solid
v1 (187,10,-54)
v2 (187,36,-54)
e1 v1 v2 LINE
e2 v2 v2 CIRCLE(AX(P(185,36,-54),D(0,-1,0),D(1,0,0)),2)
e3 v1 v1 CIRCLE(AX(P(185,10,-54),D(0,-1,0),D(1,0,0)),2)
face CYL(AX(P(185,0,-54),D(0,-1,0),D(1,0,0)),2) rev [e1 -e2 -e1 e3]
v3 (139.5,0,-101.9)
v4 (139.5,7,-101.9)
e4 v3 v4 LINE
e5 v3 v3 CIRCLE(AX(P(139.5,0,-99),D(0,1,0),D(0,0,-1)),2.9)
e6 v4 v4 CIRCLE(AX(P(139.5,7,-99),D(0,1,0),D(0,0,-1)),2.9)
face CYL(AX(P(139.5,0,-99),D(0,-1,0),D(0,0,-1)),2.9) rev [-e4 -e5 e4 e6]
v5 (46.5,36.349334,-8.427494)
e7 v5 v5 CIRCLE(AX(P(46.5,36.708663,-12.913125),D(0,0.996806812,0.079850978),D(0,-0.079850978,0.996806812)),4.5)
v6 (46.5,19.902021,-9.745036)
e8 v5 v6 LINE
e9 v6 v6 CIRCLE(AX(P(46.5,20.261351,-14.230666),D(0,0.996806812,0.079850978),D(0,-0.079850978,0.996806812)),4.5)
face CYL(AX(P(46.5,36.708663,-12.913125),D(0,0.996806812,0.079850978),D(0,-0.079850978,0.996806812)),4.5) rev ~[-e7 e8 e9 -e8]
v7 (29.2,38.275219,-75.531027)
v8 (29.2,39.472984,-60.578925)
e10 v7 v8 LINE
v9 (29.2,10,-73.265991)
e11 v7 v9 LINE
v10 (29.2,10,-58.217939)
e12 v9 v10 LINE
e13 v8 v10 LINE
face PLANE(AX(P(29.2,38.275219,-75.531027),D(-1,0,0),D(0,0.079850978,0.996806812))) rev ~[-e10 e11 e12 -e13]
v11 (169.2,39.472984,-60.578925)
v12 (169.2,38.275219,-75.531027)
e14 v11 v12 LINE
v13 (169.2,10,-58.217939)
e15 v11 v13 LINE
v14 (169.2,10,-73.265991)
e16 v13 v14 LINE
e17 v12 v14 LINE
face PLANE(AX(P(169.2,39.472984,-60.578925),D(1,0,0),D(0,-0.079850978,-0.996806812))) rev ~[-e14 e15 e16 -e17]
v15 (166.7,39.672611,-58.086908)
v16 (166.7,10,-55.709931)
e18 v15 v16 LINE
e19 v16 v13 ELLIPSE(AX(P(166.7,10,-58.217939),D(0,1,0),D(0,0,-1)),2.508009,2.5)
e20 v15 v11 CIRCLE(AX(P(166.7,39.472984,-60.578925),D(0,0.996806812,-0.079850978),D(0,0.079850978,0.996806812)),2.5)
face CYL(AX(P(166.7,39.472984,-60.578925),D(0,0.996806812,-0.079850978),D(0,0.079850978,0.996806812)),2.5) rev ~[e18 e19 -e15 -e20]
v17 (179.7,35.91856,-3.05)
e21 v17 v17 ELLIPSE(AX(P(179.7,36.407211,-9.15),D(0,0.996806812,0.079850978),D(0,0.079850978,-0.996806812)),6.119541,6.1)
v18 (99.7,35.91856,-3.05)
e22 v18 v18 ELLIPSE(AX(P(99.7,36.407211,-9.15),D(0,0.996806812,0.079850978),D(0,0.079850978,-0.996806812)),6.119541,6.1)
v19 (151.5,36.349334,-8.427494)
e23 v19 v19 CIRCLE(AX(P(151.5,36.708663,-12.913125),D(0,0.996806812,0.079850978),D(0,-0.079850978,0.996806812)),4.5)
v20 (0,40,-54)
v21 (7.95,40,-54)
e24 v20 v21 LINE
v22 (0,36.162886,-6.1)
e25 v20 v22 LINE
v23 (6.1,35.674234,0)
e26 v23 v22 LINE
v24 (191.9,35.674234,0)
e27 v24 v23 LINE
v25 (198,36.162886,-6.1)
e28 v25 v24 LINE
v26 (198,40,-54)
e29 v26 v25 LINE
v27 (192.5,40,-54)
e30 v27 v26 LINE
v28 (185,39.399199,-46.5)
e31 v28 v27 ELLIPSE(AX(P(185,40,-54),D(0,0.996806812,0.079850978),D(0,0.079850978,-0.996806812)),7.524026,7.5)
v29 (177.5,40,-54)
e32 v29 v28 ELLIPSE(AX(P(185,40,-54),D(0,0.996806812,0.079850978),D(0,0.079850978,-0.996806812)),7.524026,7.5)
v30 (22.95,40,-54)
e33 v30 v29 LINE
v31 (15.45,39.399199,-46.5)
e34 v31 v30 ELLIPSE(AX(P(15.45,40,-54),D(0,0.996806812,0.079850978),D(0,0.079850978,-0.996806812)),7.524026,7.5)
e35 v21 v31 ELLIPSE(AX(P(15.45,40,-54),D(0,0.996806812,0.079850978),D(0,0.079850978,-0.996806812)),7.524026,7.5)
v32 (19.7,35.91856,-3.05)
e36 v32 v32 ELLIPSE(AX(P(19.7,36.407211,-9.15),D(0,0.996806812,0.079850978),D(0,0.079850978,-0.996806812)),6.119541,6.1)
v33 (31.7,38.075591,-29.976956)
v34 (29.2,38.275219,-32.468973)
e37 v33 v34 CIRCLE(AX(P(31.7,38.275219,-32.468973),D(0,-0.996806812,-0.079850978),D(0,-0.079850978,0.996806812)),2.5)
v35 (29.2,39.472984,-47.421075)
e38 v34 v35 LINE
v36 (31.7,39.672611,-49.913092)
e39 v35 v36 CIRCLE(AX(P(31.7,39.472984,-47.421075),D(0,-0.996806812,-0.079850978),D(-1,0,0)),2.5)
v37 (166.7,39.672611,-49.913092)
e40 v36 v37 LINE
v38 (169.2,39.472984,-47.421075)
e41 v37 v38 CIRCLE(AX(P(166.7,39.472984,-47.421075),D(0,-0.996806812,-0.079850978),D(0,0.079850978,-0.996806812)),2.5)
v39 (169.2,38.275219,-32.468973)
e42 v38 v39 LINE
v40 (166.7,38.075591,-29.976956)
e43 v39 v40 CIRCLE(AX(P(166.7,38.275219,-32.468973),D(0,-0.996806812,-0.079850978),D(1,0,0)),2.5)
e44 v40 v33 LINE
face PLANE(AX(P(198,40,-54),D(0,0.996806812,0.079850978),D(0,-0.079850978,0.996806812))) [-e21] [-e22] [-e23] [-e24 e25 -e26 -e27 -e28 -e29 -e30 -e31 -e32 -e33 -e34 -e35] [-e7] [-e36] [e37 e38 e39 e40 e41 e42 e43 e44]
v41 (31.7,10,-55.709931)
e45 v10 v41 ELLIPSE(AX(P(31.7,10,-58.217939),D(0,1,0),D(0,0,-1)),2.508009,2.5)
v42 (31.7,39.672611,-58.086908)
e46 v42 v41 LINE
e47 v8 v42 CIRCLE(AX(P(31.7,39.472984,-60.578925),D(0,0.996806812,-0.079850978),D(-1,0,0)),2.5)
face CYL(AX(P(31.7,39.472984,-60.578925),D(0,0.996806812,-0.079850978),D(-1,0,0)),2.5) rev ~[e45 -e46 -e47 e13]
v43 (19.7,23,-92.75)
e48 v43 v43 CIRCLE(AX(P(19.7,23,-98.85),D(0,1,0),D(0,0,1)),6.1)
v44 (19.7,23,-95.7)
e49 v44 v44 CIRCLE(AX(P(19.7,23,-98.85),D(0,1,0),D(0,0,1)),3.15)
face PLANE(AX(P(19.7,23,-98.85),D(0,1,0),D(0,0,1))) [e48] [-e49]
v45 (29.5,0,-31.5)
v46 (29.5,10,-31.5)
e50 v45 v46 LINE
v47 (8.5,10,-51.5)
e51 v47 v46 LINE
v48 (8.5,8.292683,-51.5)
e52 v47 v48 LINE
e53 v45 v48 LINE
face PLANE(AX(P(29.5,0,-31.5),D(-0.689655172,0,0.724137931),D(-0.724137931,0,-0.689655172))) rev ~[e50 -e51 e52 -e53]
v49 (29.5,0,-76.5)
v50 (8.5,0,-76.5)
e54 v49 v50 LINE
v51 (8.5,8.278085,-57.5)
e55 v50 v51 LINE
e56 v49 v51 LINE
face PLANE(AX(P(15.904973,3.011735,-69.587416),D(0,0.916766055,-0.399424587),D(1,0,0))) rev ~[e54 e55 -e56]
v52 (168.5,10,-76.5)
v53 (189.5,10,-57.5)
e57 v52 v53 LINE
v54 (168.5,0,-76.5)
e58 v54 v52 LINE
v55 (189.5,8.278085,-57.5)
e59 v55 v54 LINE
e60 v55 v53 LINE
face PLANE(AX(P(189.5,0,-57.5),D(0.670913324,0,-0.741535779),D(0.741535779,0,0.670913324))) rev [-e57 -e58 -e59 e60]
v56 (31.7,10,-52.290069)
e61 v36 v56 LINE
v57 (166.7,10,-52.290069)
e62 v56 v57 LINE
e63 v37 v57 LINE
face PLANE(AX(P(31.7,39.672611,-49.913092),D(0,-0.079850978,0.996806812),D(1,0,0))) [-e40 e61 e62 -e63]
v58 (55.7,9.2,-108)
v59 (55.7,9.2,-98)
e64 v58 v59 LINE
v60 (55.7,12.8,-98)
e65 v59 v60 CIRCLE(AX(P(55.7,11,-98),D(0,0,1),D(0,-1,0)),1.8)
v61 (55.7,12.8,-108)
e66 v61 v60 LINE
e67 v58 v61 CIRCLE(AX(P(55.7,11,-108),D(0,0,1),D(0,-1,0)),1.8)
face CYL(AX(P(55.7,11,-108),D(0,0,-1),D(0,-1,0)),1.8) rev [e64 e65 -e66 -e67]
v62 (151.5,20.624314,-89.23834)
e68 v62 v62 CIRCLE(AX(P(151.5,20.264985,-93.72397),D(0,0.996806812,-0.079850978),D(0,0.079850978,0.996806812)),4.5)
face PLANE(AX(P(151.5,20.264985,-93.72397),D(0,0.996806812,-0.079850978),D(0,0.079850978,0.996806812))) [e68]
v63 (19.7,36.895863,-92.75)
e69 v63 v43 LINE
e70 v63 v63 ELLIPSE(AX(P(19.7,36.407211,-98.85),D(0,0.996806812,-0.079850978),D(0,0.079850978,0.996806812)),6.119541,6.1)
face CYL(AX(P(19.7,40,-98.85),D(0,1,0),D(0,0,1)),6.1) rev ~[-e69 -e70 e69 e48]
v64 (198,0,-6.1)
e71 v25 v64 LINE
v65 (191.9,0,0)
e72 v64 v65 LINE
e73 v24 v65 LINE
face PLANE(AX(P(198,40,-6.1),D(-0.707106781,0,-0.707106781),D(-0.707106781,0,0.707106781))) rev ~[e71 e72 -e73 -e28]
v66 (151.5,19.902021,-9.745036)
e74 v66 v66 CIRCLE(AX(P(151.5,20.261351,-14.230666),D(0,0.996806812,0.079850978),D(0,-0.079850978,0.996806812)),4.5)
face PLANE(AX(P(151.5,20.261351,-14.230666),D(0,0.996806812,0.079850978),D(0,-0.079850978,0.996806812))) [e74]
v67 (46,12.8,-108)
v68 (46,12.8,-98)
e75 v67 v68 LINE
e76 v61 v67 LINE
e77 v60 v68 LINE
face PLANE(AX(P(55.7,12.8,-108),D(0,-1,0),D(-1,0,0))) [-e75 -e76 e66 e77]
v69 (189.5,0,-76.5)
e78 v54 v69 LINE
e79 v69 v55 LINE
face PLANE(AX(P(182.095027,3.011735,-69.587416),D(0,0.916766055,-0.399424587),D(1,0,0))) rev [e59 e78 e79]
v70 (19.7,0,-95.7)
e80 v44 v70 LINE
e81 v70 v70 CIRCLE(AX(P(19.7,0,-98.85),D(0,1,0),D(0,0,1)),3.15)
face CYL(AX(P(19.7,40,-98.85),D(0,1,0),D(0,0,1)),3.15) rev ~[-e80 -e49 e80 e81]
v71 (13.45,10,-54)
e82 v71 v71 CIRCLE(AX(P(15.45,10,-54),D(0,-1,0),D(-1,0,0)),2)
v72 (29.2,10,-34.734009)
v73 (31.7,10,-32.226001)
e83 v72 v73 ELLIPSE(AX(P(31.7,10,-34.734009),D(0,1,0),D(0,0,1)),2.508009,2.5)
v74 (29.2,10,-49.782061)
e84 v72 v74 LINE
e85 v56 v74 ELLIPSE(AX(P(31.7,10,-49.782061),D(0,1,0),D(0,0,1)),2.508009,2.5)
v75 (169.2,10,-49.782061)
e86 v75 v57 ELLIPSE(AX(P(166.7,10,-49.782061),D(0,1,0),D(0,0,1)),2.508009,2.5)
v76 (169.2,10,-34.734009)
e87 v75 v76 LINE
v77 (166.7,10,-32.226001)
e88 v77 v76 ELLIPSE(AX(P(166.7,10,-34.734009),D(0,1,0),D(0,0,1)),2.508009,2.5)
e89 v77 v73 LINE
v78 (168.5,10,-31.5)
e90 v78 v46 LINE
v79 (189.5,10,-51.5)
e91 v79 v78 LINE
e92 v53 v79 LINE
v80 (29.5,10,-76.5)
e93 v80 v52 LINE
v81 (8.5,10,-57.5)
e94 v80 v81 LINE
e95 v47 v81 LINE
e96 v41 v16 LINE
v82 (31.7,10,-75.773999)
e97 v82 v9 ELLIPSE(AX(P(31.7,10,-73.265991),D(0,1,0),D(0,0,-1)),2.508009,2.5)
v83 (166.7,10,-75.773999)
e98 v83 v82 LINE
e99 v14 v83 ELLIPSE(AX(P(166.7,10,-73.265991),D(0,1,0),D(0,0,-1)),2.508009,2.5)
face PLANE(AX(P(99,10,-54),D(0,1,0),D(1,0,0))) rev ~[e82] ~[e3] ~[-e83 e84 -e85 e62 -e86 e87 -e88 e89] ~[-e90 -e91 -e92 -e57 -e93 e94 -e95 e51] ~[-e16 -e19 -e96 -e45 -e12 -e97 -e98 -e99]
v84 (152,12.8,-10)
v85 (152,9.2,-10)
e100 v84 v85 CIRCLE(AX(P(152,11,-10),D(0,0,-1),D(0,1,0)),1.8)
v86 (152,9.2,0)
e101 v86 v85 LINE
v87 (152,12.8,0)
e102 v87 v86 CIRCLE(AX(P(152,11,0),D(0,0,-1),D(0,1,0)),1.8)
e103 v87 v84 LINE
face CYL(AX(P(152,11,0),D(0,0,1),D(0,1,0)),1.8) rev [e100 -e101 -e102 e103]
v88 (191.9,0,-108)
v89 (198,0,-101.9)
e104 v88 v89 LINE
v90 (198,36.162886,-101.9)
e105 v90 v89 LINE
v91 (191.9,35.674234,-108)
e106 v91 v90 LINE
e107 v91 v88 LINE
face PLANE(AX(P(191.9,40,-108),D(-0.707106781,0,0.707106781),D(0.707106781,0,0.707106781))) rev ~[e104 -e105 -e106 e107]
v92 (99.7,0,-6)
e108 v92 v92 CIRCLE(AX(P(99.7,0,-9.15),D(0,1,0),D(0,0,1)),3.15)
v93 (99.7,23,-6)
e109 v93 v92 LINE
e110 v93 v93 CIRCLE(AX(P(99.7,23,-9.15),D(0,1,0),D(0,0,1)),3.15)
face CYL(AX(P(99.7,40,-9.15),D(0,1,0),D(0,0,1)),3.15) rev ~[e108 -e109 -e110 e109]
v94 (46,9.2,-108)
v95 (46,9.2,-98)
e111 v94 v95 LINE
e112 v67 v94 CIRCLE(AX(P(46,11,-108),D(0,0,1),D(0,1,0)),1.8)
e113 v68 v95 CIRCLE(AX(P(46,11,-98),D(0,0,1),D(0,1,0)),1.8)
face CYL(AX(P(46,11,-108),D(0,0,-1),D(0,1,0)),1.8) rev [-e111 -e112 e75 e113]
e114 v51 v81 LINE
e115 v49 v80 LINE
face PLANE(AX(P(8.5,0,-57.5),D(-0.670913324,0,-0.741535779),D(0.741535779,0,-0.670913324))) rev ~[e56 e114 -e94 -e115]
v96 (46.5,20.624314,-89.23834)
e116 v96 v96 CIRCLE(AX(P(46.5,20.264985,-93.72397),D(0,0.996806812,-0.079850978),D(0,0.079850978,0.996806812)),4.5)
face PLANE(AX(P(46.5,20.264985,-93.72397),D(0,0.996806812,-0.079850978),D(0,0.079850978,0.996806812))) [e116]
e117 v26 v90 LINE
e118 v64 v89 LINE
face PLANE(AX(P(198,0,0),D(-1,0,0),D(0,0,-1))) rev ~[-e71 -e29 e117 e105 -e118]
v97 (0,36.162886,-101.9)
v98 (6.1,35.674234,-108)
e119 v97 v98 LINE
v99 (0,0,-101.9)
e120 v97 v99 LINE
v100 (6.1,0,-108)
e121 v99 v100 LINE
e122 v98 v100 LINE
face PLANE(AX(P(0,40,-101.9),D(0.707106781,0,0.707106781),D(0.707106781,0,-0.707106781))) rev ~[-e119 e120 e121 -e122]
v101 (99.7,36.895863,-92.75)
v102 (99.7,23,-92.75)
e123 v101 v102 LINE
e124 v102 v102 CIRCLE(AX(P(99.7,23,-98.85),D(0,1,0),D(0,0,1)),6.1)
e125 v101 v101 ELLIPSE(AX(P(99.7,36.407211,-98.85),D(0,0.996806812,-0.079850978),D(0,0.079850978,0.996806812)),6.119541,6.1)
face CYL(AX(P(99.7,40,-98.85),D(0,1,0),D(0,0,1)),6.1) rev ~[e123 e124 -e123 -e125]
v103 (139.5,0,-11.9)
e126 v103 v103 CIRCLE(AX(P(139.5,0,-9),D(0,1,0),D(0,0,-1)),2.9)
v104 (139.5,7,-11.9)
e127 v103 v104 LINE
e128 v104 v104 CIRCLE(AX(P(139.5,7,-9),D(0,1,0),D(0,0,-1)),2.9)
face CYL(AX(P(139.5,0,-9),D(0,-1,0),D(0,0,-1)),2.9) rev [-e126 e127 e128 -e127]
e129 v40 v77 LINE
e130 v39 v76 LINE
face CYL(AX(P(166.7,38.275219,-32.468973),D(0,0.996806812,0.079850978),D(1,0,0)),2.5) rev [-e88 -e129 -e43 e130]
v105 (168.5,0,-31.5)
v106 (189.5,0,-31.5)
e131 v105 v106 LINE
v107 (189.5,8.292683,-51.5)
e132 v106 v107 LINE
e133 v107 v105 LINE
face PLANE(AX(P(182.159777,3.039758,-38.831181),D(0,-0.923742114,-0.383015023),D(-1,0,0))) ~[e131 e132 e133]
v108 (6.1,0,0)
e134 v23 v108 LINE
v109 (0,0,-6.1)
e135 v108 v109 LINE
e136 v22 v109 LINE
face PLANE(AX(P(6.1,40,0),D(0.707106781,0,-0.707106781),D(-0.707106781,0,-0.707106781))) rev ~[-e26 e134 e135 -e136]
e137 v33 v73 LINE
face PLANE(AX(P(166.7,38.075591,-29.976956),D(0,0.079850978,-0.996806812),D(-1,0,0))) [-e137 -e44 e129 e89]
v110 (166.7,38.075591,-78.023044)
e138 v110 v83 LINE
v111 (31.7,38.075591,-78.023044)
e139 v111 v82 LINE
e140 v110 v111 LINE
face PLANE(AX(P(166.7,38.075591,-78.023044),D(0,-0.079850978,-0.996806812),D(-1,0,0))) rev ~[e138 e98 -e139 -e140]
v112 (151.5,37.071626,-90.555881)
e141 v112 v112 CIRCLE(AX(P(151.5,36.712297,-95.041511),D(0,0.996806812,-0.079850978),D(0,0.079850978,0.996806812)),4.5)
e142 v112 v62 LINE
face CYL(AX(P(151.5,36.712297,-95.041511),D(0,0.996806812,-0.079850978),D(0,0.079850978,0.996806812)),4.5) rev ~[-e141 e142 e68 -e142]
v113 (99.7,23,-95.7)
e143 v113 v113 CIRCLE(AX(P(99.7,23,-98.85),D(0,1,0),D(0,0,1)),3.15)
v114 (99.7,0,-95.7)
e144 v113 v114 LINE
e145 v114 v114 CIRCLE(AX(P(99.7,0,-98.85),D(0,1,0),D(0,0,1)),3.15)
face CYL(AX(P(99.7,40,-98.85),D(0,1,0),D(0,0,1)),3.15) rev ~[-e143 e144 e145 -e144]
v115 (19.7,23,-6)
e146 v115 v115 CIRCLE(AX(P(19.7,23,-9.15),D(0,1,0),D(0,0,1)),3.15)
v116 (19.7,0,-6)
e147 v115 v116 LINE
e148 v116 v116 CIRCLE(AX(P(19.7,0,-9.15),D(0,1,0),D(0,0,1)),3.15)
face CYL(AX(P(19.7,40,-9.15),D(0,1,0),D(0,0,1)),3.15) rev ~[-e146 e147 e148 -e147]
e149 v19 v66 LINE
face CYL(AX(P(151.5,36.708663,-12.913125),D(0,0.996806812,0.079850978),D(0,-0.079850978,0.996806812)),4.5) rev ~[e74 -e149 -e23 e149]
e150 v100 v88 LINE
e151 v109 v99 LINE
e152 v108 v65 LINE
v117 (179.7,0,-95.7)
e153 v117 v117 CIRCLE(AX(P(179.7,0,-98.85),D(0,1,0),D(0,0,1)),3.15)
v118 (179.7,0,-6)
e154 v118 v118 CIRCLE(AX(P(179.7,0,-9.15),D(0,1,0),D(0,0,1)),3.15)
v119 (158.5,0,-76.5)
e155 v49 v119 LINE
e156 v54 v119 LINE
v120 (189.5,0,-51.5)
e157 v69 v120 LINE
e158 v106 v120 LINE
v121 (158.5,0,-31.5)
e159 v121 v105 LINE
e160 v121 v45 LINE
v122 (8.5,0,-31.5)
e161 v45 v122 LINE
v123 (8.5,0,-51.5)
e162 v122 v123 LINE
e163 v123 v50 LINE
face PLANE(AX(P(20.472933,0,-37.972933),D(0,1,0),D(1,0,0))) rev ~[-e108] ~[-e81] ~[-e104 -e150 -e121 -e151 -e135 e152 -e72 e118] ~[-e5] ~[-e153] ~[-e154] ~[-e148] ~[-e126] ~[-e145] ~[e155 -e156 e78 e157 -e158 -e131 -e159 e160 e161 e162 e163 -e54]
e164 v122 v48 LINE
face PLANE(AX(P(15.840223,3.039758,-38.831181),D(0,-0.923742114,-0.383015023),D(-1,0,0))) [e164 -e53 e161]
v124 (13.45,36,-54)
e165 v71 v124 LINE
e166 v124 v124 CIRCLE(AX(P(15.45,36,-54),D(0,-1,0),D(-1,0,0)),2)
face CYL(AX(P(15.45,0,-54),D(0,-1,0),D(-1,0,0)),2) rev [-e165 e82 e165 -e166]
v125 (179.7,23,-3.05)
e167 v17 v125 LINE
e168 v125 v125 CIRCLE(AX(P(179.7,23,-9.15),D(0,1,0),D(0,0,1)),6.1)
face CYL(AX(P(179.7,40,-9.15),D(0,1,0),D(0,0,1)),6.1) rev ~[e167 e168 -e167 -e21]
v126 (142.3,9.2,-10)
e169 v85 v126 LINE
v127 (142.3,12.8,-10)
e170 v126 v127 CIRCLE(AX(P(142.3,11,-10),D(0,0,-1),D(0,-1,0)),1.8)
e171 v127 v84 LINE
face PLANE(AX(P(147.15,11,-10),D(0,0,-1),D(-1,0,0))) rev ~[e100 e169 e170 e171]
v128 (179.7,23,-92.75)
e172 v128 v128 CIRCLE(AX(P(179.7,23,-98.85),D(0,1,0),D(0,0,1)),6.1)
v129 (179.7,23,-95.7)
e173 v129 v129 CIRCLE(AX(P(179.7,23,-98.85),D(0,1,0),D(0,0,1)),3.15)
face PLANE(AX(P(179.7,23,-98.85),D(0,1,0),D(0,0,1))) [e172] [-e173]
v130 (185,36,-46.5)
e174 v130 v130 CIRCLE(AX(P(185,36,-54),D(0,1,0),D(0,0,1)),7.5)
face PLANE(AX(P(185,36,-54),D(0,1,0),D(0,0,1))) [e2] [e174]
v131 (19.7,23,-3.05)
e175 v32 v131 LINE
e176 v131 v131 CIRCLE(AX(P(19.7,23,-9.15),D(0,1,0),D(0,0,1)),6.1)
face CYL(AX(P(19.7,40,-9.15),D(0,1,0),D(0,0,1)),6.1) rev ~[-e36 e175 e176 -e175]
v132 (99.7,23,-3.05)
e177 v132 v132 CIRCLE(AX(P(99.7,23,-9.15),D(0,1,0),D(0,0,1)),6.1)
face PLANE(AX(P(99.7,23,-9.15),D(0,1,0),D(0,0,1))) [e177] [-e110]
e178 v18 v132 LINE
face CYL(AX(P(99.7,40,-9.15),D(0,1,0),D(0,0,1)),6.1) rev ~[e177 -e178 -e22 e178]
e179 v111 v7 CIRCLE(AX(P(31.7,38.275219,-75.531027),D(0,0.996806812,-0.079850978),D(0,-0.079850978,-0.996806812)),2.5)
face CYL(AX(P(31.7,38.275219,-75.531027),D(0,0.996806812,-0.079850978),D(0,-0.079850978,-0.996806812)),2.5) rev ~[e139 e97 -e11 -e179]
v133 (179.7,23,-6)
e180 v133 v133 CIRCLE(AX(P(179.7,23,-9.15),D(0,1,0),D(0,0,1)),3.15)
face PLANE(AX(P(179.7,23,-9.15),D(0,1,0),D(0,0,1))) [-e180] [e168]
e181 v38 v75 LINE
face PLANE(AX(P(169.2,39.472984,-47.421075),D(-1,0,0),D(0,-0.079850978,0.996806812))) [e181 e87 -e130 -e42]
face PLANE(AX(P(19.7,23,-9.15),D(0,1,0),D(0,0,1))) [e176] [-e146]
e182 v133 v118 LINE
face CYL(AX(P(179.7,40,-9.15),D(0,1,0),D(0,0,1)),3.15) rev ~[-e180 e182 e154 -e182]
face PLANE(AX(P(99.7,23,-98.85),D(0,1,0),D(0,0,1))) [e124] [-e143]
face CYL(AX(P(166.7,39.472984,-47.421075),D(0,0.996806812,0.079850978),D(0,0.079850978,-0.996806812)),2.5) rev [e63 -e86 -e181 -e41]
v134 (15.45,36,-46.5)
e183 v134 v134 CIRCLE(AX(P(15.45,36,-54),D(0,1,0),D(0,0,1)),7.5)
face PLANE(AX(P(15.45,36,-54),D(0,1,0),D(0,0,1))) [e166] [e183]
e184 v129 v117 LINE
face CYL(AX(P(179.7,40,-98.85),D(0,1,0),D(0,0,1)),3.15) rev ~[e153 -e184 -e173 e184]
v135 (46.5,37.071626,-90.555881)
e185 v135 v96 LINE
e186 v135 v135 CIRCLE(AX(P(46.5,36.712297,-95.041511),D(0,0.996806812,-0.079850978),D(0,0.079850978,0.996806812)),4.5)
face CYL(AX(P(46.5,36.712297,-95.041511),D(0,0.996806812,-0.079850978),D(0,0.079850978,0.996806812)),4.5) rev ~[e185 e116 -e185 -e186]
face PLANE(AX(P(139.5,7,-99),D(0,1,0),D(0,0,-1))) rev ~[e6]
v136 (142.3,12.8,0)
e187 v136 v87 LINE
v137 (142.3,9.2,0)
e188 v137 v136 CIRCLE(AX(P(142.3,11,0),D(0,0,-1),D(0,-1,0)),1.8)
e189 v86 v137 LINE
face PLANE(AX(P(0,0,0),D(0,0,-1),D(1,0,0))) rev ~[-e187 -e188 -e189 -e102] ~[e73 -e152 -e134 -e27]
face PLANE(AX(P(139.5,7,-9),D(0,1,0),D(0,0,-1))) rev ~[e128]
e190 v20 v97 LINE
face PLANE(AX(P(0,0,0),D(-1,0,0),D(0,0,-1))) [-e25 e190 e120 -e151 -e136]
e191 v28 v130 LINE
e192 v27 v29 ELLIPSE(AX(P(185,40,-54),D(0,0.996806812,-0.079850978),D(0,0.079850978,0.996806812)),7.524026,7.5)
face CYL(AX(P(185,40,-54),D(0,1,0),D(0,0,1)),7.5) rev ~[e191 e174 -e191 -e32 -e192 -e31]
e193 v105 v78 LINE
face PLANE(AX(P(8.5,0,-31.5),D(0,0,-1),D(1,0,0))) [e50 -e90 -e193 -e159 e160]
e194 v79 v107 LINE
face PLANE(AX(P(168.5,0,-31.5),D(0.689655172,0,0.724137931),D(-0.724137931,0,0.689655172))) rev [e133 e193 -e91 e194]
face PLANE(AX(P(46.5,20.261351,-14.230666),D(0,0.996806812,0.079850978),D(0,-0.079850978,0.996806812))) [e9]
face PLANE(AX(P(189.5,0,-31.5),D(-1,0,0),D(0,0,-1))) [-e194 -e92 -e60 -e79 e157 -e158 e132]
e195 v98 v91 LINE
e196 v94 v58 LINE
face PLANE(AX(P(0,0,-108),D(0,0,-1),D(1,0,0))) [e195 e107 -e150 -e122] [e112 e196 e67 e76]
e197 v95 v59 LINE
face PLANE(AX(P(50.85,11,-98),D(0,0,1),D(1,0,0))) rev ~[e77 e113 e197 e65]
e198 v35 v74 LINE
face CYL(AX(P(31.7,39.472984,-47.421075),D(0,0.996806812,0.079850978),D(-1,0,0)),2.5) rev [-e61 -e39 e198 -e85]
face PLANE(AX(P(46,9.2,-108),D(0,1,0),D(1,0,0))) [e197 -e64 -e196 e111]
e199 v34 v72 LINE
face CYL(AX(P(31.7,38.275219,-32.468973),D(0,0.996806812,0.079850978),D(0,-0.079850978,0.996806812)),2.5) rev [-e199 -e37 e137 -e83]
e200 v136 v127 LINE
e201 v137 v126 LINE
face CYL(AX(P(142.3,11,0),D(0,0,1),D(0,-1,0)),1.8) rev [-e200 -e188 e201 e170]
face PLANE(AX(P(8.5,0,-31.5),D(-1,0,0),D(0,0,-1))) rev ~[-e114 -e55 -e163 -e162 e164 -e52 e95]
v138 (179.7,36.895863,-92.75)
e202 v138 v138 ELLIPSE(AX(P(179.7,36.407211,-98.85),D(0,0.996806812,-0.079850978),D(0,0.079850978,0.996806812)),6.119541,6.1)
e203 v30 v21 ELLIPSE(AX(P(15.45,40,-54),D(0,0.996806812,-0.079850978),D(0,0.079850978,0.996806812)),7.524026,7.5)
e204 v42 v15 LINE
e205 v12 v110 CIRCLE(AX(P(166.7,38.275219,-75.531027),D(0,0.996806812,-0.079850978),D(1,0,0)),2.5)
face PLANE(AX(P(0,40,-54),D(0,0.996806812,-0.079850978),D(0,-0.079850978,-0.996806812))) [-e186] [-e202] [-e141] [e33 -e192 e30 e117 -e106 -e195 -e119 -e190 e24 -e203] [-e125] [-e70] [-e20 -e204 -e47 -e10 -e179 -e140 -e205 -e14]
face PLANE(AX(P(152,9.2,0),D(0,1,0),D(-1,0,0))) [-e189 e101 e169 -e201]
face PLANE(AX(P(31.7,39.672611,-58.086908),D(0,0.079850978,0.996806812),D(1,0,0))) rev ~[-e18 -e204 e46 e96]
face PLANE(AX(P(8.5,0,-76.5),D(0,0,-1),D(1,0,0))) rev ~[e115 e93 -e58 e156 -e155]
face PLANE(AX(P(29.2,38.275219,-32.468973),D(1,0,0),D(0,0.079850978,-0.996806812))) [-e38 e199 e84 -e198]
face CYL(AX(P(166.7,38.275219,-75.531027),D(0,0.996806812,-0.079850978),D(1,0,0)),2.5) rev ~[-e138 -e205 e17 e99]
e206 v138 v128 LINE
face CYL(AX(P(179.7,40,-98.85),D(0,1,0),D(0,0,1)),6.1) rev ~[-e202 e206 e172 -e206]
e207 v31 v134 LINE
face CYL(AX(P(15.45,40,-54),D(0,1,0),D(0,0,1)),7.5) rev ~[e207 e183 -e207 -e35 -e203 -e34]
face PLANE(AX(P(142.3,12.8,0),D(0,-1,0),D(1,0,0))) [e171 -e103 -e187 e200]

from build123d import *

# Parameters (mm, degrees)
SKETCH1_W            = 198
SKETCH1_H            = 108
BOSS_EXTRUDE1_DEPTH  = 40
SKETCH4_W            = 181
SKETCH4_H            = 45
CUT_EXTRUDE2_DEPTH   = 10
CUT_EXTRUDE3_START   = -198
CUT_EXTRUDE3_DEPTH   = 198
BOSS_EXTRUDE11_DEPTH = 10
CUT_EXTRUDE12_DEPTH  = 198
CUT_EXTRUDE28_DEPTH  = 14.5
CUT_EXTRUDE29_DEPTH  = 14.5
CUT_EXTRUDE40_REACH  = 231.059
SKETCH12_R           = 3.15
CUT_EXTRUDE9_DEPTH   = 230.058944379
SKETCH13_R           = 4.5
CUT_EXTRUDE10_DEPTH  = 16.5
SKETCH14_R           = 4.5
CUT_EXTRUDE11_DEPTH  = 16.5
SKETCH41_R           = 2.9
CUT_EXTRUDE21_DEPTH  = 7
CUT_EXTRUDE22_DEPTH  = 10
CUT_EXTRUDE23_DEPTH  = 10
CUT_EXTRUDE35_DEPTH  = 55.4
CUT_EXTRUDE34_DEPTH  = 55.4
CUT_EXTRUDE36_DEPTH  = 55.4
SKETCH90_R           = 6.1
CUT_EXTRUDE38_DEPTH  = 17
SKETCH96_R           = 2
CUT_EXTRUDE39_DEPTH  = 230.058944379
SKETCH98_R           = 7.5
CUT_EXTRUDE41_DEPTH  = 4


with BuildPart() as part:
    # Sketch1 → Boss-Extrude1 (new body)
    with BuildSketch(Plane(origin=(0, 0, 0), x_dir=(1, 0, 0), z_dir=(0, 1, 0))):
        with Locations((99, 54)):
            Rectangle(SKETCH1_W, SKETCH1_H)
    extrude(amount=BOSS_EXTRUDE1_DEPTH)

    # Sketch4 → Cut-Extrude2 (cut)
    with BuildSketch(Plane(origin=(0, 0, 0), x_dir=(1, 0, 0), z_dir=(0, 1, 0))):
        with Locations((99, 54)):
            Rectangle(SKETCH4_W, SKETCH4_H)
    extrude(amount=CUT_EXTRUDE2_DEPTH, mode=Mode.SUBTRACT)

    # Sketch5 → Cut-Extrude3 (cut)
    with BuildSketch(Plane(origin=(198, 0, 0), x_dir=(0, 0, -1), z_dir=(1, 0, 0)).offset(CUT_EXTRUDE3_START)):
        Polygon((54, 40), (108, 35.674234207), (108, 40), align=None)
    extrude(amount=CUT_EXTRUDE3_DEPTH, mode=Mode.SUBTRACT)

    # Sketch53 → Boss-Extrude11 (add)
    with BuildSketch(Plane(origin=(0, 10, 0), x_dir=(-1, 0, 0), z_dir=(0, -1, 0))):
        Polygon((-8.5, 51.5), (-8.5, 31.5), (-39.5, 31.5), align=None)
        Polygon((-8.5, 56.5), (-8.5, 76.5), (-39.5, 76.5), align=None)
        Polygon((-158.5, 76.5), (-189.5, 56.5), (-189.5, 76.5), align=None)
        Polygon((-158.5, 31.5), (-189.5, 51.5), (-189.5, 31.5), align=None)
    extrude(amount=BOSS_EXTRUDE11_DEPTH)

    # Sketch18 → Cut-Extrude12 (cut)
    with BuildSketch(Plane(origin=(198, 0, 0), x_dir=(0, 0, -1), z_dir=(1, 0, 0))):
        Polygon((0, 35.674234207), (0, 40), (54, 40), align=None)
    extrude(amount=-CUT_EXTRUDE12_DEPTH, mode=Mode.SUBTRACT)

    # Izq → Cut-Extrude28 (cut)
    with BuildSketch(Plane(origin=(0, 28.012686094, -12.204810084), x_dir=(1, 0, 0), z_dir=(0, 0.9167660546215652, -0.39942458749256926))):
        Polygon((8.5, 48.862182113), (29.5, 70.132603179), (8.5, 70.132603179), align=None)
    cut_extrude28 = extrude(amount=-CUT_EXTRUDE28_DEPTH, mode=Mode.SUBTRACT)

    # Der → Cut-Extrude29 (cut)
    with BuildSketch(Plane(origin=(0, -11.144923858, -4.62106599), x_dir=(1, 0, 0), z_dir=(0, 0.9237421135716327, 0.38301502270043264))):
        Polygon((8.5, 51.290217599), (29.5, 29.097876578), (8.5, 29.097876578), align=None)
    cut_extrude29 = extrude(amount=-CUT_EXTRUDE29_DEPTH, mode=Mode.SUBTRACT)

    # Cut-Extrude40: up to this face of the body (flat: up to its plane)
    cut_extrude40_end = Plane(part.part.faces().sort_by_distance((99, 10, -54))[0])
    # Sketch97 → Cut-Extrude40 (cut, up to the picked face)
    with BuildSketch(Plane(origin=(0, 0, 0), x_dir=(1, 0, 0), z_dir=(0, 1, 0)), mode=Mode.PRIVATE) as cut_extrude40_sk1:
        Polygon((8.5, 57.5), (29.5, 76.5), (158.5, 76.5), (189.5, 56.5), (189.5, 51.5), (158.5, 31.5), (29.5, 31.5), (8.5, 51.5), align=None)
    cut_extrude40_tool1 = split(extrude(cut_extrude40_sk1.sketch, amount=CUT_EXTRUDE40_REACH, mode=Mode.PRIVATE), bisect_by=cut_extrude40_end, keep=Keep.BOTH, mode=Mode.PRIVATE)
    cut_extrude40 = cut_extrude40_tool1.solids().sort_by(Axis((96.82024, 0, -54.014019), (0, 1, 0)))[0]
    add(cut_extrude40, mode=Mode.SUBTRACT)

    # Mirror2: Cut-Extrude28, Cut-Extrude29, Cut-Extrude40 across plane
    add(cut_extrude28.mirror(Plane(origin=(99, 0, 0), x_dir=(0, 0, 1), z_dir=(1, 0, 0))), mode=Mode.SUBTRACT)
    add(cut_extrude29.mirror(Plane(origin=(99, 0, 0), x_dir=(0, 0, 1), z_dir=(1, 0, 0))), mode=Mode.SUBTRACT)
    add(cut_extrude40.mirror(Plane(origin=(99, 0, 0), x_dir=(0, 0, 1), z_dir=(1, 0, 0))), mode=Mode.SUBTRACT)

    # Sketch12 → Cut-Extrude9 (cut, through all)
    with BuildSketch(Plane(origin=(0, 40, 0), x_dir=(1, 0, 0), z_dir=(0, 1, 0))):
        with Locations(Location((19.7, 98.85, 0), (0, 0, 270))):
            Circle(SKETCH12_R)
        with Locations(Location((99.7, 9.15, 0), (0, 0, 270))):
            Circle(SKETCH12_R)
        with Locations(Location((179.7, 9.15, 0), (0, 0, 270))):
            Circle(SKETCH12_R)
        with Locations(Location((19.7, 9.15, 0), (0, 0, 270))):
            Circle(SKETCH12_R)
        with Locations(Location((99.7, 98.85, 0), (0, 0, 270))):
            Circle(SKETCH12_R)
        with Locations(Location((179.7, 98.85, 0), (0, 0, 270))):
            Circle(SKETCH12_R)
    extrude(amount=-CUT_EXTRUDE9_DEPTH, mode=Mode.SUBTRACT)

    # Sketch13 → Cut-Extrude10 (cut)
    with BuildSketch(Plane(origin=(0, 44.04313679, -3.528153602), x_dir=(1, 0, 0), z_dir=(0, 0.9968068124341598, -0.07985097798305206))):
        with Locations(Location((46.5, 91.806513253, 0), (0, 0, 270))):
            Circle(SKETCH13_R)
        with Locations(Location((151.5, 91.806513253, 0), (0, 0, 270))):
            Circle(SKETCH13_R)
    extrude(amount=-CUT_EXTRUDE10_DEPTH, mode=Mode.SUBTRACT)

    # Sketch14 → Cut-Extrude11 (cut)
    with BuildSketch(Plane(origin=(0, 35.212287021, 5.766643233), x_dir=(1, 0, 0), z_dir=(0, 0.9968068124341597, 0.07985097798305243))):
        with Locations(Location((46.5, 18.739607443, 0), (0, 0, 270))):
            Circle(SKETCH14_R)
        with Locations(Location((151.5, 18.739607443, 0), (0, 0, 270))):
            Circle(SKETCH14_R)
    extrude(amount=-CUT_EXTRUDE11_DEPTH, mode=Mode.SUBTRACT)

    # Sketch41 → Cut-Extrude21 (cut)
    with BuildSketch(Plane(origin=(0, 0, 0), x_dir=(1, 0, 0), z_dir=(0, 1, 0))):
        with Locations(Location((139.5, 9, 0), (0, 0, 90))):
            Circle(SKETCH41_R)
        with Locations(Location((139.5, 99, 0), (0, 0, 90))):
            Circle(SKETCH41_R)
    extrude(amount=CUT_EXTRUDE21_DEPTH, mode=Mode.SUBTRACT)

    # Sketch42 → Cut-Extrude22 (cut)
    with BuildSketch(Plane.XY):
        with BuildLine():
            Line((142.3, 12.8), (152, 12.8))
            ThreePointArc((152, 12.8), (153.8, 11), (152, 9.2))
            Line((152, 9.2), (142.3, 9.2))
            ThreePointArc((142.3, 9.2), (140.5, 11), (142.3, 12.8))
        make_face()
    extrude(amount=-CUT_EXTRUDE22_DEPTH, mode=Mode.SUBTRACT)

    # Sketch43 → Cut-Extrude23 (cut)
    with BuildSketch(Plane(origin=(0, 0, -108), x_dir=(-1, 0, 0), z_dir=(0, 0, -1))):
        with BuildLine():
            Line((-55.7, 12.8), (-46, 12.8))
            ThreePointArc((-46, 12.8), (-44.2, 11), (-46, 9.2))
            Line((-46, 9.2), (-55.7, 9.2))
            ThreePointArc((-55.7, 9.2), (-57.5, 11), (-55.7, 12.8))
        make_face()
    extrude(amount=-CUT_EXTRUDE23_DEPTH, mode=Mode.SUBTRACT)

    # Sketch84 → Cut-Extrude35 (cut)
    with BuildSketch(Plane(origin=(0, 44.04313679, -3.528153602), x_dir=(1, 0, 0), z_dir=(0, 0.9968068124341598, -0.07985097798305206))):
        with BuildLine():
            Line((31.7, 54.733528752), (166.7, 54.733528752))
            ThreePointArc((166.7, 54.733528752), (168.467766953, 55.465761799), (169.2, 57.233528752))
            Line((169.2, 57.233528752), (169.2, 72.233528752))
            ThreePointArc((169.2, 72.233528752), (168.467766953, 74.001295705), (166.7, 74.733528752))
            Line((166.7, 74.733528752), (31.7, 74.733528752))
            ThreePointArc((31.7, 74.733528752), (29.932233047, 74.001295705), (29.2, 72.233528752))
            Line((29.2, 72.233528752), (29.2, 57.233528752))
            ThreePointArc((29.2, 57.233528752), (29.932233047, 55.465761799), (31.7, 54.733528752))
        make_face()
    extrude(amount=-CUT_EXTRUDE35_DEPTH, mode=Mode.SUBTRACT)

    # Sketch83 → Cut-Extrude34 (cut)
    with BuildSketch(Plane(origin=(0, 35.446768916, 2.839526304), x_dir=(1, 0, 0), z_dir=(0, 0.9968068124341598, 0.07985097798305245))):
        with BuildLine():
            Line((31.7, 52.921606991), (166.7, 52.921606991))
            ThreePointArc((166.7, 52.921606991), (168.467766953, 52.189373944), (169.2, 50.421606991))
            Line((169.2, 50.421606991), (169.2, 35.421606991))
            ThreePointArc((169.2, 35.421606991), (168.467766953, 33.653840038), (166.7, 32.921606991))
            Line((166.7, 32.921606991), (31.7, 32.921606991))
            ThreePointArc((31.7, 32.921606991), (29.932233047, 33.653840038), (29.2, 35.421606991))
            Line((29.2, 35.421606991), (29.2, 50.421606991))
            ThreePointArc((29.2, 50.421606991), (29.932233047, 52.189373944), (31.7, 52.921606991))
        make_face()
    extrude(amount=-CUT_EXTRUDE34_DEPTH, mode=Mode.SUBTRACT)

    # Sketch85 → Cut-Extrude36 (cut)
    with BuildSketch(Plane(origin=(0, 40, 0), x_dir=(1, 0, 0), z_dir=(0, 1, 0))):
        Polygon((0, 101.9), (6.1, 108), (0, 108), align=None)
        Polygon((0, 0), (6.1, 0), (0, 6.1), align=None)
        Polygon((198, 6.1), (191.9, 0), (198, 0), align=None)
        Polygon((198, 108), (191.9, 108), (198, 101.9), align=None)
    extrude(amount=-CUT_EXTRUDE36_DEPTH, mode=Mode.SUBTRACT)

    # Sketch90 → Cut-Extrude38 (cut)
    with BuildSketch(Plane(origin=(0, 40, 0), x_dir=(1, 0, 0), z_dir=(0, 1, 0))):
        with Locations(Location((19.7, 9.15, 0), (0, 0, 270))):
            Circle(SKETCH90_R)
        with Locations(Location((99.7, 9.15, 0), (0, 0, 270))):
            Circle(SKETCH90_R)
        with Locations(Location((179.7, 9.15, 0), (0, 0, 270))):
            Circle(SKETCH90_R)
        with Locations(Location((99.7, 98.85, 0), (0, 0, 270))):
            Circle(SKETCH90_R)
        with Locations(Location((179.7, 98.85, 0), (0, 0, 270))):
            Circle(SKETCH90_R)
        with Locations(Location((19.7, 98.85, 0), (0, 0, 270))):
            Circle(SKETCH90_R)
    extrude(amount=-CUT_EXTRUDE38_DEPTH, mode=Mode.SUBTRACT)

    # Sketch96 → Cut-Extrude39 (cut, through all)
    with BuildSketch(Plane(origin=(0, 0, 0), x_dir=(1, 0, 0), z_dir=(0, 1, 0))):
        with Locations(Location((15.45, 54, 0), (0, 0, 180))):
            Circle(SKETCH96_R)
        with Locations((185, 54)):
            Circle(SKETCH96_R)
    extrude(amount=CUT_EXTRUDE39_DEPTH, mode=Mode.SUBTRACT)

    # Sketch98 → Cut-Extrude41 (cut)
    with BuildSketch(Plane(origin=(0, 40, 0), x_dir=(1, 0, 0), z_dir=(0, 1, 0))):
        with Locations(Location((185, 54, 0), (0, 0, 270))):
            Circle(SKETCH98_R)
        with Locations(Location((15.45, 54, 0), (0, 0, 270))):
            Circle(SKETCH98_R)
    extrude(amount=-CUT_EXTRUDE41_DEPTH, mode=Mode.SUBTRACT)


solid = part.part
